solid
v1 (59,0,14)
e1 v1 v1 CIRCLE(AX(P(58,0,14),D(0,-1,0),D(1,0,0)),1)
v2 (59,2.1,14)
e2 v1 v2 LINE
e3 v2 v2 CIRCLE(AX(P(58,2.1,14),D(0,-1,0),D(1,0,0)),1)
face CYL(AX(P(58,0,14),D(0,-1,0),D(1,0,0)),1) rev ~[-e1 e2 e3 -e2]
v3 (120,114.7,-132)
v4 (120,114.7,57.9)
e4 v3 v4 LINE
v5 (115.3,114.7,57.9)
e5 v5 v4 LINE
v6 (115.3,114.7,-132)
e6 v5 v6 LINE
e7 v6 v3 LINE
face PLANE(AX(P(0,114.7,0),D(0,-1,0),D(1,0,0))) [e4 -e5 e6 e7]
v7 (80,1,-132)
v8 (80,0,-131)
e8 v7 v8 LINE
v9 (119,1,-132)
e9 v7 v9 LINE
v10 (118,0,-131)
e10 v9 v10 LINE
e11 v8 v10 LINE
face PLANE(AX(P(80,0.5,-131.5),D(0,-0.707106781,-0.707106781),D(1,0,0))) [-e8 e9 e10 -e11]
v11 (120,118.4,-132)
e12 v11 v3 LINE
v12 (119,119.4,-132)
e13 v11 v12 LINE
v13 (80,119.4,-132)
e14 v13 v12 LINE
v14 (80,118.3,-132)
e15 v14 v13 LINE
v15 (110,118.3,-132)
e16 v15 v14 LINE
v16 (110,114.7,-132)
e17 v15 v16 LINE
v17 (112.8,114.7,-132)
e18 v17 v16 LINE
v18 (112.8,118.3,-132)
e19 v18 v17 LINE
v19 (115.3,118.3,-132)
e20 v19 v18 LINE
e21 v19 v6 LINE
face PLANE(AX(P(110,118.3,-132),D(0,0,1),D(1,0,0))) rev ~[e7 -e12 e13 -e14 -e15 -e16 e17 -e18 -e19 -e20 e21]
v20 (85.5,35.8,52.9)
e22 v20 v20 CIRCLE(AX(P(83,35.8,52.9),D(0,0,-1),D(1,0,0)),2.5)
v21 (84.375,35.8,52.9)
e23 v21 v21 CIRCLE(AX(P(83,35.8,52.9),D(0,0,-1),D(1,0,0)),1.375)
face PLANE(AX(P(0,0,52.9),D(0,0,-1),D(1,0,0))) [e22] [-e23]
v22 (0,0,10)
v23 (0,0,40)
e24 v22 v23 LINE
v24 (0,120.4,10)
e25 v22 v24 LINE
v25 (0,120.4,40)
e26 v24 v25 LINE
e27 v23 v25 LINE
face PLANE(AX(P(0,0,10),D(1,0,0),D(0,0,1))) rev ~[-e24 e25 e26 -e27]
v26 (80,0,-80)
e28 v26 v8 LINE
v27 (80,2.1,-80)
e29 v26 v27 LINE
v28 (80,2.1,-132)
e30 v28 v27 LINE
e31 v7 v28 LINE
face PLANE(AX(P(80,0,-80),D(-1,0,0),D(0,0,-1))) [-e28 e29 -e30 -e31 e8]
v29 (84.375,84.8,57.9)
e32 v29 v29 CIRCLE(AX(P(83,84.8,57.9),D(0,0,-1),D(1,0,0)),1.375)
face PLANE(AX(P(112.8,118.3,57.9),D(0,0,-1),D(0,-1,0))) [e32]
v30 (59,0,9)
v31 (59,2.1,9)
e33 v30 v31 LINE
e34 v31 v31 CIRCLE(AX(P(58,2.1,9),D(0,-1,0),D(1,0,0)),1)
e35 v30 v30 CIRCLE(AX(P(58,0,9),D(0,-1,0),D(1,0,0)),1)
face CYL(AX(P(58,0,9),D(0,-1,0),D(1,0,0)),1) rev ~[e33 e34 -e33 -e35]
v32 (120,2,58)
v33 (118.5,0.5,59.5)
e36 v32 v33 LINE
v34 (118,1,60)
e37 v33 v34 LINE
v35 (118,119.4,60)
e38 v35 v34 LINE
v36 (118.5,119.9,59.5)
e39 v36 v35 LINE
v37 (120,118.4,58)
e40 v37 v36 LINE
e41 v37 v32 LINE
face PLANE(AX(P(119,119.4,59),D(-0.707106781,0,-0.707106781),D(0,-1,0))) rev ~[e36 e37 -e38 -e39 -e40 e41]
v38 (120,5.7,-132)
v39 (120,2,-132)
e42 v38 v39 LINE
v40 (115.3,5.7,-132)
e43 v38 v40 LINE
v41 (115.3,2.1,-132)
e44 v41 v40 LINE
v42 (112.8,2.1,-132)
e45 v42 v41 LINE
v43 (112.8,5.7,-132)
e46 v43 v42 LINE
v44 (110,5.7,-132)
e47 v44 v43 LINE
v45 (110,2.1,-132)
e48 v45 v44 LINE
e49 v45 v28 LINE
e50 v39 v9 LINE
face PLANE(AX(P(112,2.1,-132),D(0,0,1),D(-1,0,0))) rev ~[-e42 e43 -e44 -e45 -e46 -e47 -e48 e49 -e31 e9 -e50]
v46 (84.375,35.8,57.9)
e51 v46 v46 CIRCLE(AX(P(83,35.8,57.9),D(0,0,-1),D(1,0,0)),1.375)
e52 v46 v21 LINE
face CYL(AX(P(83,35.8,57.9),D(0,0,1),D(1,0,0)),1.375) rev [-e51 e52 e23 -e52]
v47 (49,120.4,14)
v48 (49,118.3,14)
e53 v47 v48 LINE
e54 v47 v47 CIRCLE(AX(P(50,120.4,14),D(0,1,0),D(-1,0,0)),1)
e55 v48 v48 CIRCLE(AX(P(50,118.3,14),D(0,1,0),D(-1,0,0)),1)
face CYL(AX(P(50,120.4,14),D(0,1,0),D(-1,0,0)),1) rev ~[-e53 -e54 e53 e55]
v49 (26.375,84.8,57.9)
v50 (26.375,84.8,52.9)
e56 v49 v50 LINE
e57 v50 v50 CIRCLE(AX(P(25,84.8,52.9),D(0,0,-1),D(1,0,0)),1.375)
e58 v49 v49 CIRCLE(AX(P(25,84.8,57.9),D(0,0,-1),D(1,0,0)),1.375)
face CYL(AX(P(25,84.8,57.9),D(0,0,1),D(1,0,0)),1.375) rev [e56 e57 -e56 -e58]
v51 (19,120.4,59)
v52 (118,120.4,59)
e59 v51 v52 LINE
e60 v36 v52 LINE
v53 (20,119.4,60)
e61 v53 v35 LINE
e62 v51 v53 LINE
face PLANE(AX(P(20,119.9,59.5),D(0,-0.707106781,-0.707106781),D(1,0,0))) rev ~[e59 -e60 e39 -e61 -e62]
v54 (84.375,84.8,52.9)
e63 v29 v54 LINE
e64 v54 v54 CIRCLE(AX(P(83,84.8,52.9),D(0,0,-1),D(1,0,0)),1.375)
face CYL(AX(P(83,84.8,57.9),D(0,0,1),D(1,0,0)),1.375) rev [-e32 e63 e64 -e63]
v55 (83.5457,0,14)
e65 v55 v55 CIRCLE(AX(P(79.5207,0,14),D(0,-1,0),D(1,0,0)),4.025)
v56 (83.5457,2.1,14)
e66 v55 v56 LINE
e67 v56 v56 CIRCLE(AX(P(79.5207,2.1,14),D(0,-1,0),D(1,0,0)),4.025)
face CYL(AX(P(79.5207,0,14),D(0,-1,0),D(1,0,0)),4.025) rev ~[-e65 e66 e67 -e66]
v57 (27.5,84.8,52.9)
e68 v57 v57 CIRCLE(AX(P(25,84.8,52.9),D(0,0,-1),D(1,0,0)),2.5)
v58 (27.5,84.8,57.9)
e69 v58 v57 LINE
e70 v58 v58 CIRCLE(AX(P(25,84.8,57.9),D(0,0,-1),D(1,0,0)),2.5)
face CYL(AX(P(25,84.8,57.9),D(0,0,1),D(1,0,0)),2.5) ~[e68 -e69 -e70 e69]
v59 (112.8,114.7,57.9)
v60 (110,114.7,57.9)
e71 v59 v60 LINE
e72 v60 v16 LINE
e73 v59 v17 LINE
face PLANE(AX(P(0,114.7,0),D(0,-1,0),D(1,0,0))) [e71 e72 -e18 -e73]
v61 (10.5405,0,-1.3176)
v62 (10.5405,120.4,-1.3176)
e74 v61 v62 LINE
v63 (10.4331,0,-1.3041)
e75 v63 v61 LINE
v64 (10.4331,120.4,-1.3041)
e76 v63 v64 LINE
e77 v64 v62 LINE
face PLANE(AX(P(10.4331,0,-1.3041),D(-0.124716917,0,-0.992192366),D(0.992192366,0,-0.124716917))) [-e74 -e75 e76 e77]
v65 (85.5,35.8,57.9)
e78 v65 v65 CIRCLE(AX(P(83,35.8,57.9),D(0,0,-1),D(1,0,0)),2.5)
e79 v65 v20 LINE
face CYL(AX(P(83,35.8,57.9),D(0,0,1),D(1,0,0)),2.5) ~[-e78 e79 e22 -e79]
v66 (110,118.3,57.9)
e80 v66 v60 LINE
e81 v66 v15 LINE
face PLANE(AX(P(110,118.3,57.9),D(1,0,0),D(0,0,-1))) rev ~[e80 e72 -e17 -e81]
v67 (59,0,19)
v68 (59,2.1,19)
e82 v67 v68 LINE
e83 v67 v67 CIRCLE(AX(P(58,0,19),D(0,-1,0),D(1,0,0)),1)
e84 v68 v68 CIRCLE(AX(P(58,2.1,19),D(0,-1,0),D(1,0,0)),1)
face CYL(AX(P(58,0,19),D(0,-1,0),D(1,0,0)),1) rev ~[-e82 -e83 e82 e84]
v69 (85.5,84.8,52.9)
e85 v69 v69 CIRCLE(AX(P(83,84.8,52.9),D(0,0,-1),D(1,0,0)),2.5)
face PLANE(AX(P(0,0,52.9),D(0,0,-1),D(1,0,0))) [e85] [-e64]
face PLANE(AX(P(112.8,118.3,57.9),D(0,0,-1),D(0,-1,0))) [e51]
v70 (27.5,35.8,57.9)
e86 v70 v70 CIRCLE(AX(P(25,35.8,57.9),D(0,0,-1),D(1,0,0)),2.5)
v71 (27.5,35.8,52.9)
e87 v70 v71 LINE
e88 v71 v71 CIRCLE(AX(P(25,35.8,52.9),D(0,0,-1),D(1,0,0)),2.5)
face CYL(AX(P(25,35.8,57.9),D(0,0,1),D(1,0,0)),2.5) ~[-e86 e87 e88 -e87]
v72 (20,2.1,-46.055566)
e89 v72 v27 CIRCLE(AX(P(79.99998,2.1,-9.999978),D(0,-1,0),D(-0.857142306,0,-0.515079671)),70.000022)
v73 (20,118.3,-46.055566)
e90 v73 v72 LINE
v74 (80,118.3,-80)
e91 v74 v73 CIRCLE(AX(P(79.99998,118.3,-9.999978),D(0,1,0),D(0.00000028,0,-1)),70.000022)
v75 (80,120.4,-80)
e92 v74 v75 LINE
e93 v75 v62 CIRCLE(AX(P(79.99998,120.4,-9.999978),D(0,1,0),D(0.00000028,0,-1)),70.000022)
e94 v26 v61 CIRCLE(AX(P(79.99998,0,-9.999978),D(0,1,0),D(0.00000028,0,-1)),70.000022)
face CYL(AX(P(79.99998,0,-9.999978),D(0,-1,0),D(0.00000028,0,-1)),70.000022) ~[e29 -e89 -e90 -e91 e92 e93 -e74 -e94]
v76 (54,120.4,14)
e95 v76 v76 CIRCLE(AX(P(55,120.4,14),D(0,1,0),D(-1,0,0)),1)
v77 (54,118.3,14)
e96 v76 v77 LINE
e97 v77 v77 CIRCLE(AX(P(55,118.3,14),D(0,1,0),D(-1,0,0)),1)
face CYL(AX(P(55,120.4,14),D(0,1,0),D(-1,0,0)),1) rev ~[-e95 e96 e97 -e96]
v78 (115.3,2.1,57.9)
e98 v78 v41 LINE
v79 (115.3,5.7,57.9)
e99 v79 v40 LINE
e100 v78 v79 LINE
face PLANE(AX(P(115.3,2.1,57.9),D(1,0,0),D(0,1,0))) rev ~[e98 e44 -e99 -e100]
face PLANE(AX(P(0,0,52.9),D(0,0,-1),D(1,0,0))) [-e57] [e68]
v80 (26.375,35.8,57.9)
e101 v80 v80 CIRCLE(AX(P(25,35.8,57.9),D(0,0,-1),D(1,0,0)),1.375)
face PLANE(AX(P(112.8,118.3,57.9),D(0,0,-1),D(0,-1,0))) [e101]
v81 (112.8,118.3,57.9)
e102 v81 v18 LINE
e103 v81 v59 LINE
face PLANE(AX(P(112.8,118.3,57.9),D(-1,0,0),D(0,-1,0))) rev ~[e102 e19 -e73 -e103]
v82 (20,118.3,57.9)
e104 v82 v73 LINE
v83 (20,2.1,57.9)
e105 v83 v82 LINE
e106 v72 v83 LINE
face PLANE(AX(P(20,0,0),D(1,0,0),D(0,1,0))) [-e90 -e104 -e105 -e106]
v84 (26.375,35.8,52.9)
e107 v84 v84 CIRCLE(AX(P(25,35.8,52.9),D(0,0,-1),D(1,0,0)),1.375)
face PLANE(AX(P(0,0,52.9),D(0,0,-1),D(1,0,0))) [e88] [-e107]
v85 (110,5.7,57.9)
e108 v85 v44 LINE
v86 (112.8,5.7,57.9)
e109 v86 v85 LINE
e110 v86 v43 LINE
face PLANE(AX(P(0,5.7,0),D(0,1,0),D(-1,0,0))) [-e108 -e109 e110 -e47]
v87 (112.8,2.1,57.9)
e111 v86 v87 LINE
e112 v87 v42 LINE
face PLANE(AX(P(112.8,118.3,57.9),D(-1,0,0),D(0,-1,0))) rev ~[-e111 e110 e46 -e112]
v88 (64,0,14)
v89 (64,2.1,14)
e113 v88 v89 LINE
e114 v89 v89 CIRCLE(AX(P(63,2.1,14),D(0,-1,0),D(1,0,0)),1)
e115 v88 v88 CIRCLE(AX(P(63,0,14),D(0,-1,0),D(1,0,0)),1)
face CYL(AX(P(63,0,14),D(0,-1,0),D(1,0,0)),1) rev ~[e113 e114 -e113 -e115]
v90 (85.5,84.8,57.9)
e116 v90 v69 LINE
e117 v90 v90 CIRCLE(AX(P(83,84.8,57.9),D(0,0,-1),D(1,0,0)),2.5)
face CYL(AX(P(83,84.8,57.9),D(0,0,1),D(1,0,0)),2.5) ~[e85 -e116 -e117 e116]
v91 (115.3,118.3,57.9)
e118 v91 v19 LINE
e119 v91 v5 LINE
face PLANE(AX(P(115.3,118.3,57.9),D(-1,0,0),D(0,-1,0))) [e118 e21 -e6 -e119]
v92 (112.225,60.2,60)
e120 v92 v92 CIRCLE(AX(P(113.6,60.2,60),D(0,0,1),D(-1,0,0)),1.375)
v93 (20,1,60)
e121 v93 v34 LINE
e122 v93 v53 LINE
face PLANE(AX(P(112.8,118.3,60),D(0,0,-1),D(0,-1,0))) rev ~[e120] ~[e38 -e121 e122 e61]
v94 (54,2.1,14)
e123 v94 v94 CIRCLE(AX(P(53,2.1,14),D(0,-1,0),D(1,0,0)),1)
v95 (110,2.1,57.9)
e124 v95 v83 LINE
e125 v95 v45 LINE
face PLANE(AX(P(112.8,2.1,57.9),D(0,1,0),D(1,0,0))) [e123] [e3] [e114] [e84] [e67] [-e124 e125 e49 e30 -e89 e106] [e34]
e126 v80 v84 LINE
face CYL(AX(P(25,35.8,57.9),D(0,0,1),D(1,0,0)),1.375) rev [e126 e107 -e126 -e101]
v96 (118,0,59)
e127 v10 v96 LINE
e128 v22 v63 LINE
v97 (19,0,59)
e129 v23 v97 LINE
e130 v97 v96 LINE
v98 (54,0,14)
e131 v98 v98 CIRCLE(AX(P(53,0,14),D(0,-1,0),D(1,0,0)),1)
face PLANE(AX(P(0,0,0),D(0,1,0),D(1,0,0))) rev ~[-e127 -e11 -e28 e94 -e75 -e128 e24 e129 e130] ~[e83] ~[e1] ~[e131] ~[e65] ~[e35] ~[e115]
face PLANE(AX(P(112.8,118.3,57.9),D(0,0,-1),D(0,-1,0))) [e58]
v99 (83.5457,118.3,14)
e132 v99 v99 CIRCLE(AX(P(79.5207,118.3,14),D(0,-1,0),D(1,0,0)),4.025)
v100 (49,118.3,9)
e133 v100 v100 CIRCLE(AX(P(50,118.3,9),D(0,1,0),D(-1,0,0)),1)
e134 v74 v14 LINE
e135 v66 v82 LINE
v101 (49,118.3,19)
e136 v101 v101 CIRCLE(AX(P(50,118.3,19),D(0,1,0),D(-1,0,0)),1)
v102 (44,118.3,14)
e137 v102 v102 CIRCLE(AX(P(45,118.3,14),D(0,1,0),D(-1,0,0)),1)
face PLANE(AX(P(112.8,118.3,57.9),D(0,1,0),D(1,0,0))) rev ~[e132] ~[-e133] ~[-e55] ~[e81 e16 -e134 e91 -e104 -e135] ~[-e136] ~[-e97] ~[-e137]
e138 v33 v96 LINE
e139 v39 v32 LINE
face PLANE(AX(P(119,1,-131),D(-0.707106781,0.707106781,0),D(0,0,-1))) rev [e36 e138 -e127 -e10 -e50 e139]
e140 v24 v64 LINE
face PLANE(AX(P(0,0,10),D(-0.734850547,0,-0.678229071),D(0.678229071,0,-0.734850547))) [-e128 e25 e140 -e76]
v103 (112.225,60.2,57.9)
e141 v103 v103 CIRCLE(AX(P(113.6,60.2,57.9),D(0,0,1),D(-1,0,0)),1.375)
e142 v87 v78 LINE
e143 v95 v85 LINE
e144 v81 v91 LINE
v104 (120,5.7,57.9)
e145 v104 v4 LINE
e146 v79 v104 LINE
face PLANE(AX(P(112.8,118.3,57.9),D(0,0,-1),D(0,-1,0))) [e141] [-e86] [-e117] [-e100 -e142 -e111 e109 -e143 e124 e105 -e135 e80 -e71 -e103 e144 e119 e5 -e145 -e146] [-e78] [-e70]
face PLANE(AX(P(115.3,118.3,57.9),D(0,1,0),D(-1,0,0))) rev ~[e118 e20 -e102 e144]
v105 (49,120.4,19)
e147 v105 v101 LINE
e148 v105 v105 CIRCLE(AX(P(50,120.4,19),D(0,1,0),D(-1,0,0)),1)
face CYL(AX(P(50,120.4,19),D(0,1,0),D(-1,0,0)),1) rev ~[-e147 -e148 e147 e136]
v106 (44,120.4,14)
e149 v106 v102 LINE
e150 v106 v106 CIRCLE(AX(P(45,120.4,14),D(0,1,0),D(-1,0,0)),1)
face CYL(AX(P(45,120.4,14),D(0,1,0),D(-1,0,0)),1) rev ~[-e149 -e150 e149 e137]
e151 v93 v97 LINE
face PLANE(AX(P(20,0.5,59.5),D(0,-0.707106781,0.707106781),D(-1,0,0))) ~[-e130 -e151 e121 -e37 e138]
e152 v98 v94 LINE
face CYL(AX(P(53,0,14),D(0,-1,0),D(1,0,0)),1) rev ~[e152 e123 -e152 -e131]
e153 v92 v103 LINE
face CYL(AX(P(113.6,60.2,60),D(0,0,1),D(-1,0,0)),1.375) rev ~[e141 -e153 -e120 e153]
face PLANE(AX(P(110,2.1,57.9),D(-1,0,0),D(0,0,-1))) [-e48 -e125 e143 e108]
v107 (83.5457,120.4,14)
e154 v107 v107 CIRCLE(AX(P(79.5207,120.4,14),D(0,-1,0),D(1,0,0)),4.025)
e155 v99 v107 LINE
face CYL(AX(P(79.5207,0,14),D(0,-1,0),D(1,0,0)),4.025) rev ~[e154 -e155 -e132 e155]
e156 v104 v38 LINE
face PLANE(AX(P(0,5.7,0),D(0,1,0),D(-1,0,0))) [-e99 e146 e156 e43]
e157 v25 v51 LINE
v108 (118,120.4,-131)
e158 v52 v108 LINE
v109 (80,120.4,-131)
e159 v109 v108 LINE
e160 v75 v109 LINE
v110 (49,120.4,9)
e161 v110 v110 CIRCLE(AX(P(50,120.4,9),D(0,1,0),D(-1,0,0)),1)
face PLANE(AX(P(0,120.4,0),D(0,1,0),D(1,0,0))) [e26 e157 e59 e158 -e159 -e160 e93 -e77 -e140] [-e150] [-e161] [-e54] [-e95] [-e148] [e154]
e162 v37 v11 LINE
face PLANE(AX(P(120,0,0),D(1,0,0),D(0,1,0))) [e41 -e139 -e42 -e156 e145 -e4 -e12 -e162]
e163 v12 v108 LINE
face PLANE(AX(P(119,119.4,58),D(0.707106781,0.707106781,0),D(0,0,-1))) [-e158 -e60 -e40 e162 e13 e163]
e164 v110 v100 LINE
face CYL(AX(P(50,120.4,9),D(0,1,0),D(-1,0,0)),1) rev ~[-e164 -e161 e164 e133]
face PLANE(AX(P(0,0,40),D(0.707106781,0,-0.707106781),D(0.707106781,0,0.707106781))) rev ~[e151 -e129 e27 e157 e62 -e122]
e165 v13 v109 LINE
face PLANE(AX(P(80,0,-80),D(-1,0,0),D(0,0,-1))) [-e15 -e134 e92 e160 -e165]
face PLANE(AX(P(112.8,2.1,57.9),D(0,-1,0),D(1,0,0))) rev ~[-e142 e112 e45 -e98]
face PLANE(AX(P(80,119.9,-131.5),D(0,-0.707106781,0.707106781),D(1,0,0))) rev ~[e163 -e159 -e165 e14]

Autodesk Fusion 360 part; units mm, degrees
sketch "Sketch1" plane through (0, 0, 0) normal (0, 1, 0) x (1, 0, 0)
  line L0 (20, -60) -> (120, -60)
  line L1 (120, -60) -> (120, 0)
  line L2 (0, -10) -> (0, -40)
  line L3 (10.4331, 1.3041) -> (10.5405, 1.3176)
  line L4 (80, 80) -> (80, 132)
  line L5 (80, 132) -> (120, 132)
  line L6 (120, 132) -> (120, 0)
  line L7 (0, -40) -> (20, -60)
  line L8 (0, -10) -> (10.4331, 1.3041)
  arc A0 (80, 80) -> (10.5405, 1.3176) centre (80, 10) ccw
  dimension "d2" = 60
  dimension "d3" = 132
  dimension "d6" = 15.3829
  dimension "d7" = 30
  dimension "d8" = 28.2843
  dimension "d9" = 100
  dimension "d10" = 40
  dimension "d48" = 70
extrude "Extrude1" add sketch "Sketch1" along normal blind 120.4
sketch "Sketch3" plane through (120, 0, 0) normal (1, 0, 0) x (0, 1, 0)
  line L0 (0, 60) -> (0, -132)
  line L1 (0, -132) -> (120.4, -132)
  line L2 (120.4, -132) -> (120.4, 60)
  line L3 (120.4, 60) -> (0, 60)
  line L4 (2.1, 57.9) -> (118.3, 57.9)
  line L5 (118.3, 57.9) -> (118.3, -56)
  line L6 (2.1, -56) -> (2.1, 57.9)
  line L7 (2.1, -56) -> (2.1, -132)
  line L8 (118.3, -132) -> (118.3, -56)
  dimension "d14" = 2.1
  dimension "d15" = 2.1
  dimension "d16" = 2.1
  dimension "d19" = 2.1
  dimension "d20" = 2.1
extrude "Extrude2" cut sketch "Sketch3" against normal blind 100 contours L1 L4 L5 L6 L7 L8
sketch "Sketch5" plane through (0, 0, 57.9) normal (0, 0, -1) x (1, 0, 0)
  line L0 (120, -118.3) -> (120, -2.1)
  line L1 (20, -2.1) -> (20, -118.3)
  line L2 (20, -118.3) -> (120, -118.3)
  line L3 (120, -118.3) -> (112.8, -118.3)
  line L4 (112.8, -118.3) -> (112.8, -2.1)
  line L5 (112.8, -2.1) -> (120, -2.1)
  line L6 (120, -2.1) -> (120, -118.3)
  line L7 (120, -2.1) -> (20, -2.1)
  dimension "d24" = 7.2
extrude "Extrude3" cut sketch "Sketch5" against normal blind 2.5 contours L0 L2 L3 L4 L5 L6 L7
sketch "Sketch7" plane through (0, 2.1, 0) normal (0, 1, 0) x (-1, 0, 0)
  line L0 (-80, -132) -> (-80, -80)
  line L1 (-20, -46.0555) -> (-20, 57.9)
  line L2 (-20, 57.9) -> (-112.8, 57.9)
  line L3 (-112.8, 57.9) -> (-112.8, 60)
  line L4 (-112.8, 60) -> (-120, 60)
  line L5 (-120, 60) -> (-120, -132)
  line L6 (-120, -132) -> (-80, -132)
  line L7 (-112, 57.9) -> (-120, 57.9)
  line L8 (-120, 57.9) -> (-120, -132)
  line L9 (-120, -132) -> (-112, -132)
  line L10 (-112, -132) -> (-112, 57.9)
  arc A0 (-80, -80) -> (-20, -46.0555) centre (-80, -10) ccw
  dimension "d27" = 8
extrude "Extrude4" add sketch "Sketch7" along normal blind 3.6 contours L2 L5 L6 L7 L8 L9 L10
sketch "Sketch8" plane through (0, 0, 57.9) normal (0, 0, 1) x (-1, 0, 0)
  line L0 (-112.8, -5.7) -> (-112.8, -2.1)
  line L1 (-112.8, -2.1) -> (-120, -2.1)
  line L2 (-120, -2.1) -> (-120, -5.7)
  line L3 (-120, -5.7) -> (-112.8, -5.7)
  line L4 (-112.8, -2.1) -> (-115.3, -2.1)
  line L5 (-115.3, -2.1) -> (-115.3, -5.7)
  line L6 (-115.3, -5.7) -> (-112.8, -5.7)
  line L7 (-112.8, -5.7) -> (-112.8, -2.1)
  dimension "d30" = 2.5
extrude "Extrude5" cut sketch "Sketch8" against normal blind 190 contours L0 L1 L3 L4 L5 L6 L7
sketch "Sketch9" plane through (0, 118.3, 0) normal (0, -1, 0) x (1, 0, 0)
  line L0 (80, -80) -> (80, -132)
  line L1 (80, -132) -> (120, -132)
  line L2 (120, -132) -> (120, 60)
  line L3 (120, 60) -> (112.8, 60)
  line L4 (112.8, 60) -> (112.8, 57.9)
  line L5 (112.8, 57.9) -> (20, 57.9)
  line L6 (20, 57.9) -> (20, -46.0555)
  line L7 (112, 57.9) -> (120, 57.9)
  line L8 (120, 57.9) -> (120, -132)
  line L9 (120, -132) -> (112, -132)
  line L10 (112, -132) -> (112, 57.9)
  arc A0 (20, -46.0555) -> (80, -80) centre (80, -10) ccw
  dimension "d33" = 8
extrude "Extrude6" add sketch "Sketch9" along normal blind 3.6 contours L1 L2 L5 L7 L8 L9 L10
sketch "Sketch10" plane through (0, 0, 57.9) normal (0, 0, 1) x (-1, 0, 0)
  line L0 (-112.8, -118.3) -> (-112.8, -114.7)
  line L1 (-112.8, -114.7) -> (-120, -114.7)
  line L2 (-120, -114.7) -> (-120, -118.3)
  line L3 (-120, -118.3) -> (-112.8, -118.3)
  line L4 (-112.8, -118.3) -> (-115.3, -118.3)
  line L5 (-115.3, -118.3) -> (-115.3, -114.7)
  line L6 (-115.3, -114.7) -> (-112.8, -114.7)
  line L7 (-112.8, -114.7) -> (-112.8, -118.3)
  dimension "d36" = 2.5
extrude "Extrude7" cut sketch "Sketch10" against normal blind 190 contours L0 L1 L3 L4 L5 L6 L7
chamfer "Chamfer1" distance 1 angle 45 4 edges at (100, 0, -132) (100, 120.4, -132) (70, 0, 60) (70, 120.4, 60)
sketch "Sketch15" plane through (112.8, 0, 0) normal (1, 0, 0) x (0, 1, 0)
  line L0 (118.3, 60) -> (2.1, 60)
  line L1 (2.1, 60) -> (2.1, -132)
  line L2 (5.7, -132) -> (5.7, 57.9)
  line L3 (5.7, 57.9) -> (114.7, 57.9)
  line L4 (114.7, 57.9) -> (114.7, -132)
  line L5 (118.3, -132) -> (118.3, 60)
  line L6 (2.1, 60) -> (118.3, 60)
  line L7 (118.3, 60) -> (118.3, 57.9)
  line L8 (118.3, 57.9) -> (2.1, 57.9)
  line L9 (2.1, 57.9) -> (2.1, 60)
  line L10 (2.1, -132) -> (5.7, -132)
  line L11 (114.7, -132) -> (118.3, -132)
extrude "Extrude11" add sketch "Sketch15" along normal blind 7.2 contours L0 L1 L3 L5 L6 L7 L8 L9
sketch "Sketch16" plane through (0, 2.1, 0) normal (0, 1, 0) x (-1, 0, 0)
  line L0 (-112, 57.9) -> (-112, -132)
  line L1 (-112, -132) -> (-80, -132)
  line L2 (-80, -132) -> (-80, -80)
  arc A0 (-80, -80) -> (-20, -46.0555) centre (-80, -10) ccw
  line L3 (-20, -46.0555) -> (-20, 57.9)
  line L4 (-20, 57.9) -> (-112, 57.9)
  line L5 (-112, 57.9) -> (-110, 57.9)
  line L6 (-110, 57.9) -> (-110, -132)
  line L7 (-110, -132) -> (-112, -132)
  line L8 (-112, -132) -> (-112, 57.9)
  dimension "d54" = 2
extrude "Extrude12" add sketch "Sketch16" along normal blind 3.6 contours L0 L1 L4 L5 L6 L7 L8
sketch "Sketch17" plane through (0, 118.3, 0) normal (0, -1, 0) x (1, 0, 0)
  line L0 (112, -132) -> (112, 57.9)
  line L1 (112, 57.9) -> (20, 57.9)
  line L2 (20, 57.9) -> (20, -46.0555)
  arc A0 (20, -46.0555) -> (80, -80) centre (80, -10) ccw
  line L3 (80, -80) -> (80, -132)
  line L4 (80, -132) -> (112, -132)
  line L5 (112, 57.9) -> (110, 57.9)
  line L6 (110, 57.9) -> (110, -132)
  line L7 (110, -132) -> (112, -132)
  line L8 (112, -132) -> (112, 57.9)
  dimension "d57" = 2
extrude "Extrude13" add sketch "Sketch17" along normal blind 3.6 contours L0 L1 L4 L5 L6 L7 L8
sketch "Sketch18" plane through (0, 0, 57.9) normal (0, 0, -1) x (1, 0, 0)
  line L0 (110, -118.3) -> (110, -114.7)
  line L1 (110, -114.7) -> (112.8, -114.7)
  line L2 (112.8, -114.7) -> (112.8, -118.3)
  line L3 (112.8, -118.3) -> (115.3, -118.3)
  line L4 (115.3, -118.3) -> (115.3, -114.7)
  line L5 (115.3, -114.7) -> (120, -114.7)
  line L6 (120, -114.7) -> (120, -5.7)
  line L7 (120, -5.7) -> (115.3, -5.7)
  line L8 (115.3, -5.7) -> (115.3, -2.1)
  line L9 (115.3, -2.1) -> (112.8, -2.1)
  line L10 (112.8, -2.1) -> (112.8, -5.7)
  line L11 (112.8, -5.7) -> (110, -5.7)
  line L12 (110, -5.7) -> (110, -2.1)
  line L13 (110, -2.1) -> (20, -2.1)
  line L14 (20, -2.1) -> (20, -118.3)
  line L15 (20, -118.3) -> (110, -118.3)
  circle A0 centre (25, -84.8) radius 2.5
  circle A1 centre (25, -35.8) radius 2.5
  circle A2 centre (83, -35.8) radius 2.5
  circle A3 centre (83, -84.8) radius 2.5
  circle A4 centre (83, -35.8) radius 1.375
  circle A5 centre (25, -35.8) radius 1.375
  circle A6 centre (83, -84.8) radius 1.375
  circle A7 centre (25, -84.8) radius 1.375
  dimension "d60" = 5
  dimension "d61" = 5
  dimension "d62" = 49
  dimension "d63" = 49
  dimension "d64" = 58
  dimension "d65" = 33.5
  dimension "d66" = 33.5
  dimension "d67" = 5
  dimension "d68" = 5
  dimension "d71" = 2.75
  dimension "d72" = 2.75
  dimension "d73" = 2.75
  dimension "d74" = 2.75
  dimension "d77" = 5
  dimension "d78" = 58
  dimension "d79" = 5
extrude "Extrude15" add sketch "Sketch18" along normal blind 5 contours A0 | A1 | A2 | A3
chamfer "Chamfer2" distance 2 angle 45 3 edges at (120, 60.2, 60) (120, 0, -36) (120, 120.4, -36)
sketch "Sketch19" plane through (0, 120.4, 0) normal (0, 1, 0) x (-1, 0, 0)
  line L0 (-118, 59) -> (-118, -131)
  line L1 (-118, -131) -> (-80, -131)
  line L2 (-80, -131) -> (-80, -80)
  arc A0 (-80, -80) -> (-10.5405, -1.3176) centre (-80, -10) ccw
  line L3 (-10.5405, -1.3176) -> (-10.4331, -1.3041)
  line L4 (-10.4331, -1.3041) -> (0, 10)
  line L5 (0, 10) -> (0, 40)
  line L6 (0, 40) -> (-19, 59)
  line L7 (-19, 59) -> (-118, 59)
  circle A1 centre (-50, 14) radius 1
  circle A2 centre (-50, 19) radius 1
  circle A3 centre (-45, 14) radius 1
  circle A4 centre (-55, 14) radius 1
  circle A5 centre (-50, 9) radius 1
  line L8 (-110, 57.9) -> (-110, -132)
  dimension "d81" = 2
  dimension "d82" = 2
  dimension "d83" = 2
  dimension "d84" = 2
  dimension "d85" = 2
  dimension "d86" = 5
  dimension "d87" = 5
  dimension "d88" = 5
  dimension "d89" = 5
  dimension "d90" = 60
  dimension "d93" = 45
extrude "Extrude16" cut sketch "Sketch19" against normal blind 5 contours A1 | A2 | A3 | A4 | A5
sketch "Sketch20" plane through (0, 0, 0) normal (0, -1, 0) x (1, 0, 0)
  line L0 (118, -131) -> (118, 59)
  line L1 (118, 59) -> (19, 59)
  line L2 (19, 59) -> (0, 40)
  line L3 (0, 40) -> (0, 10)
  line L4 (0, 10) -> (10.4331, -1.3041)
  line L5 (10.4331, -1.3041) -> (10.5405, -1.3176)
  arc A0 (10.5405, -1.3176) -> (80, -80) centre (80, -10) ccw
  line L6 (80, -80) -> (80, -131)
  line L7 (80, -131) -> (118, -131)
  circle A1 centre (58, 14) radius 1
  circle A2 centre (58, 19) radius 1
  circle A3 centre (63, 14) radius 1
  circle A4 centre (53, 14) radius 1
  circle A5 centre (58, 9) radius 1
  dimension "d94" = 2
  dimension "d95" = 2
  dimension "d96" = 2
  dimension "d97" = 2
  dimension "d98" = 2
  dimension "d99" = 5
  dimension "d100" = 5
  dimension "d101" = 5
  dimension "d102" = 5
  dimension "d103" = 60
  dimension "d104" = 45
extrude "Extrude17" cut sketch "Sketch20" against normal blind 5 contours A1 | A2 | A3 | A4 | A5
sketch "Sketch21" plane through (0, 0, 0) normal (0, -1, 0) x (1, 0, 0)
  circle A0 centre (58, 9) radius 1
  circle A1 centre (63, 14) radius 1
  circle A2 centre (53, 14) radius 1
  circle A3 centre (58, 19) radius 1
  circle A4 centre (58, 14) radius 1
  line L0 (118, -131) -> (118, 59)
  line L1 (118, 59) -> (19, 59)
  line L2 (19, 59) -> (0, 40)
  line L3 (0, 40) -> (0, 10)
  line L4 (0, 10) -> (10.4331, -1.3041)
  line L5 (10.4331, -1.3041) -> (10.5405, -1.3176)
  arc A5 (10.5405, -1.3176) -> (80, -80) centre (80, -10) ccw
  line L6 (80, -80) -> (80, -131)
  line L7 (80, -131) -> (118, -131)
  circle A6 centre (79.5207, 14) radius 4.025
  dimension "d107" = 8.05
extrude "Extrude18" cut sketch "Sketch21" against normal blind 170 contours A6
sketch "Sketch22" plane through (0, 0, 60) normal (0, 0, 1) x (-1, 0, 0)
  line L0 (-118, -1) -> (-118, -119.4)
  line L1 (-118, -119.4) -> (-20, -119.4)
  line L2 (-20, -119.4) -> (-20, -1)
  line L3 (-20, -1) -> (-118, -1)
  circle A0 centre (-113.6, -60.2) radius 1.375
  dimension "d110" = 4.4
  dimension "d111" = 2.75
  dimension "d112" = 59.2
extrude "Extrude19" cut sketch "Sketch22" against normal blind 3 contours A0
